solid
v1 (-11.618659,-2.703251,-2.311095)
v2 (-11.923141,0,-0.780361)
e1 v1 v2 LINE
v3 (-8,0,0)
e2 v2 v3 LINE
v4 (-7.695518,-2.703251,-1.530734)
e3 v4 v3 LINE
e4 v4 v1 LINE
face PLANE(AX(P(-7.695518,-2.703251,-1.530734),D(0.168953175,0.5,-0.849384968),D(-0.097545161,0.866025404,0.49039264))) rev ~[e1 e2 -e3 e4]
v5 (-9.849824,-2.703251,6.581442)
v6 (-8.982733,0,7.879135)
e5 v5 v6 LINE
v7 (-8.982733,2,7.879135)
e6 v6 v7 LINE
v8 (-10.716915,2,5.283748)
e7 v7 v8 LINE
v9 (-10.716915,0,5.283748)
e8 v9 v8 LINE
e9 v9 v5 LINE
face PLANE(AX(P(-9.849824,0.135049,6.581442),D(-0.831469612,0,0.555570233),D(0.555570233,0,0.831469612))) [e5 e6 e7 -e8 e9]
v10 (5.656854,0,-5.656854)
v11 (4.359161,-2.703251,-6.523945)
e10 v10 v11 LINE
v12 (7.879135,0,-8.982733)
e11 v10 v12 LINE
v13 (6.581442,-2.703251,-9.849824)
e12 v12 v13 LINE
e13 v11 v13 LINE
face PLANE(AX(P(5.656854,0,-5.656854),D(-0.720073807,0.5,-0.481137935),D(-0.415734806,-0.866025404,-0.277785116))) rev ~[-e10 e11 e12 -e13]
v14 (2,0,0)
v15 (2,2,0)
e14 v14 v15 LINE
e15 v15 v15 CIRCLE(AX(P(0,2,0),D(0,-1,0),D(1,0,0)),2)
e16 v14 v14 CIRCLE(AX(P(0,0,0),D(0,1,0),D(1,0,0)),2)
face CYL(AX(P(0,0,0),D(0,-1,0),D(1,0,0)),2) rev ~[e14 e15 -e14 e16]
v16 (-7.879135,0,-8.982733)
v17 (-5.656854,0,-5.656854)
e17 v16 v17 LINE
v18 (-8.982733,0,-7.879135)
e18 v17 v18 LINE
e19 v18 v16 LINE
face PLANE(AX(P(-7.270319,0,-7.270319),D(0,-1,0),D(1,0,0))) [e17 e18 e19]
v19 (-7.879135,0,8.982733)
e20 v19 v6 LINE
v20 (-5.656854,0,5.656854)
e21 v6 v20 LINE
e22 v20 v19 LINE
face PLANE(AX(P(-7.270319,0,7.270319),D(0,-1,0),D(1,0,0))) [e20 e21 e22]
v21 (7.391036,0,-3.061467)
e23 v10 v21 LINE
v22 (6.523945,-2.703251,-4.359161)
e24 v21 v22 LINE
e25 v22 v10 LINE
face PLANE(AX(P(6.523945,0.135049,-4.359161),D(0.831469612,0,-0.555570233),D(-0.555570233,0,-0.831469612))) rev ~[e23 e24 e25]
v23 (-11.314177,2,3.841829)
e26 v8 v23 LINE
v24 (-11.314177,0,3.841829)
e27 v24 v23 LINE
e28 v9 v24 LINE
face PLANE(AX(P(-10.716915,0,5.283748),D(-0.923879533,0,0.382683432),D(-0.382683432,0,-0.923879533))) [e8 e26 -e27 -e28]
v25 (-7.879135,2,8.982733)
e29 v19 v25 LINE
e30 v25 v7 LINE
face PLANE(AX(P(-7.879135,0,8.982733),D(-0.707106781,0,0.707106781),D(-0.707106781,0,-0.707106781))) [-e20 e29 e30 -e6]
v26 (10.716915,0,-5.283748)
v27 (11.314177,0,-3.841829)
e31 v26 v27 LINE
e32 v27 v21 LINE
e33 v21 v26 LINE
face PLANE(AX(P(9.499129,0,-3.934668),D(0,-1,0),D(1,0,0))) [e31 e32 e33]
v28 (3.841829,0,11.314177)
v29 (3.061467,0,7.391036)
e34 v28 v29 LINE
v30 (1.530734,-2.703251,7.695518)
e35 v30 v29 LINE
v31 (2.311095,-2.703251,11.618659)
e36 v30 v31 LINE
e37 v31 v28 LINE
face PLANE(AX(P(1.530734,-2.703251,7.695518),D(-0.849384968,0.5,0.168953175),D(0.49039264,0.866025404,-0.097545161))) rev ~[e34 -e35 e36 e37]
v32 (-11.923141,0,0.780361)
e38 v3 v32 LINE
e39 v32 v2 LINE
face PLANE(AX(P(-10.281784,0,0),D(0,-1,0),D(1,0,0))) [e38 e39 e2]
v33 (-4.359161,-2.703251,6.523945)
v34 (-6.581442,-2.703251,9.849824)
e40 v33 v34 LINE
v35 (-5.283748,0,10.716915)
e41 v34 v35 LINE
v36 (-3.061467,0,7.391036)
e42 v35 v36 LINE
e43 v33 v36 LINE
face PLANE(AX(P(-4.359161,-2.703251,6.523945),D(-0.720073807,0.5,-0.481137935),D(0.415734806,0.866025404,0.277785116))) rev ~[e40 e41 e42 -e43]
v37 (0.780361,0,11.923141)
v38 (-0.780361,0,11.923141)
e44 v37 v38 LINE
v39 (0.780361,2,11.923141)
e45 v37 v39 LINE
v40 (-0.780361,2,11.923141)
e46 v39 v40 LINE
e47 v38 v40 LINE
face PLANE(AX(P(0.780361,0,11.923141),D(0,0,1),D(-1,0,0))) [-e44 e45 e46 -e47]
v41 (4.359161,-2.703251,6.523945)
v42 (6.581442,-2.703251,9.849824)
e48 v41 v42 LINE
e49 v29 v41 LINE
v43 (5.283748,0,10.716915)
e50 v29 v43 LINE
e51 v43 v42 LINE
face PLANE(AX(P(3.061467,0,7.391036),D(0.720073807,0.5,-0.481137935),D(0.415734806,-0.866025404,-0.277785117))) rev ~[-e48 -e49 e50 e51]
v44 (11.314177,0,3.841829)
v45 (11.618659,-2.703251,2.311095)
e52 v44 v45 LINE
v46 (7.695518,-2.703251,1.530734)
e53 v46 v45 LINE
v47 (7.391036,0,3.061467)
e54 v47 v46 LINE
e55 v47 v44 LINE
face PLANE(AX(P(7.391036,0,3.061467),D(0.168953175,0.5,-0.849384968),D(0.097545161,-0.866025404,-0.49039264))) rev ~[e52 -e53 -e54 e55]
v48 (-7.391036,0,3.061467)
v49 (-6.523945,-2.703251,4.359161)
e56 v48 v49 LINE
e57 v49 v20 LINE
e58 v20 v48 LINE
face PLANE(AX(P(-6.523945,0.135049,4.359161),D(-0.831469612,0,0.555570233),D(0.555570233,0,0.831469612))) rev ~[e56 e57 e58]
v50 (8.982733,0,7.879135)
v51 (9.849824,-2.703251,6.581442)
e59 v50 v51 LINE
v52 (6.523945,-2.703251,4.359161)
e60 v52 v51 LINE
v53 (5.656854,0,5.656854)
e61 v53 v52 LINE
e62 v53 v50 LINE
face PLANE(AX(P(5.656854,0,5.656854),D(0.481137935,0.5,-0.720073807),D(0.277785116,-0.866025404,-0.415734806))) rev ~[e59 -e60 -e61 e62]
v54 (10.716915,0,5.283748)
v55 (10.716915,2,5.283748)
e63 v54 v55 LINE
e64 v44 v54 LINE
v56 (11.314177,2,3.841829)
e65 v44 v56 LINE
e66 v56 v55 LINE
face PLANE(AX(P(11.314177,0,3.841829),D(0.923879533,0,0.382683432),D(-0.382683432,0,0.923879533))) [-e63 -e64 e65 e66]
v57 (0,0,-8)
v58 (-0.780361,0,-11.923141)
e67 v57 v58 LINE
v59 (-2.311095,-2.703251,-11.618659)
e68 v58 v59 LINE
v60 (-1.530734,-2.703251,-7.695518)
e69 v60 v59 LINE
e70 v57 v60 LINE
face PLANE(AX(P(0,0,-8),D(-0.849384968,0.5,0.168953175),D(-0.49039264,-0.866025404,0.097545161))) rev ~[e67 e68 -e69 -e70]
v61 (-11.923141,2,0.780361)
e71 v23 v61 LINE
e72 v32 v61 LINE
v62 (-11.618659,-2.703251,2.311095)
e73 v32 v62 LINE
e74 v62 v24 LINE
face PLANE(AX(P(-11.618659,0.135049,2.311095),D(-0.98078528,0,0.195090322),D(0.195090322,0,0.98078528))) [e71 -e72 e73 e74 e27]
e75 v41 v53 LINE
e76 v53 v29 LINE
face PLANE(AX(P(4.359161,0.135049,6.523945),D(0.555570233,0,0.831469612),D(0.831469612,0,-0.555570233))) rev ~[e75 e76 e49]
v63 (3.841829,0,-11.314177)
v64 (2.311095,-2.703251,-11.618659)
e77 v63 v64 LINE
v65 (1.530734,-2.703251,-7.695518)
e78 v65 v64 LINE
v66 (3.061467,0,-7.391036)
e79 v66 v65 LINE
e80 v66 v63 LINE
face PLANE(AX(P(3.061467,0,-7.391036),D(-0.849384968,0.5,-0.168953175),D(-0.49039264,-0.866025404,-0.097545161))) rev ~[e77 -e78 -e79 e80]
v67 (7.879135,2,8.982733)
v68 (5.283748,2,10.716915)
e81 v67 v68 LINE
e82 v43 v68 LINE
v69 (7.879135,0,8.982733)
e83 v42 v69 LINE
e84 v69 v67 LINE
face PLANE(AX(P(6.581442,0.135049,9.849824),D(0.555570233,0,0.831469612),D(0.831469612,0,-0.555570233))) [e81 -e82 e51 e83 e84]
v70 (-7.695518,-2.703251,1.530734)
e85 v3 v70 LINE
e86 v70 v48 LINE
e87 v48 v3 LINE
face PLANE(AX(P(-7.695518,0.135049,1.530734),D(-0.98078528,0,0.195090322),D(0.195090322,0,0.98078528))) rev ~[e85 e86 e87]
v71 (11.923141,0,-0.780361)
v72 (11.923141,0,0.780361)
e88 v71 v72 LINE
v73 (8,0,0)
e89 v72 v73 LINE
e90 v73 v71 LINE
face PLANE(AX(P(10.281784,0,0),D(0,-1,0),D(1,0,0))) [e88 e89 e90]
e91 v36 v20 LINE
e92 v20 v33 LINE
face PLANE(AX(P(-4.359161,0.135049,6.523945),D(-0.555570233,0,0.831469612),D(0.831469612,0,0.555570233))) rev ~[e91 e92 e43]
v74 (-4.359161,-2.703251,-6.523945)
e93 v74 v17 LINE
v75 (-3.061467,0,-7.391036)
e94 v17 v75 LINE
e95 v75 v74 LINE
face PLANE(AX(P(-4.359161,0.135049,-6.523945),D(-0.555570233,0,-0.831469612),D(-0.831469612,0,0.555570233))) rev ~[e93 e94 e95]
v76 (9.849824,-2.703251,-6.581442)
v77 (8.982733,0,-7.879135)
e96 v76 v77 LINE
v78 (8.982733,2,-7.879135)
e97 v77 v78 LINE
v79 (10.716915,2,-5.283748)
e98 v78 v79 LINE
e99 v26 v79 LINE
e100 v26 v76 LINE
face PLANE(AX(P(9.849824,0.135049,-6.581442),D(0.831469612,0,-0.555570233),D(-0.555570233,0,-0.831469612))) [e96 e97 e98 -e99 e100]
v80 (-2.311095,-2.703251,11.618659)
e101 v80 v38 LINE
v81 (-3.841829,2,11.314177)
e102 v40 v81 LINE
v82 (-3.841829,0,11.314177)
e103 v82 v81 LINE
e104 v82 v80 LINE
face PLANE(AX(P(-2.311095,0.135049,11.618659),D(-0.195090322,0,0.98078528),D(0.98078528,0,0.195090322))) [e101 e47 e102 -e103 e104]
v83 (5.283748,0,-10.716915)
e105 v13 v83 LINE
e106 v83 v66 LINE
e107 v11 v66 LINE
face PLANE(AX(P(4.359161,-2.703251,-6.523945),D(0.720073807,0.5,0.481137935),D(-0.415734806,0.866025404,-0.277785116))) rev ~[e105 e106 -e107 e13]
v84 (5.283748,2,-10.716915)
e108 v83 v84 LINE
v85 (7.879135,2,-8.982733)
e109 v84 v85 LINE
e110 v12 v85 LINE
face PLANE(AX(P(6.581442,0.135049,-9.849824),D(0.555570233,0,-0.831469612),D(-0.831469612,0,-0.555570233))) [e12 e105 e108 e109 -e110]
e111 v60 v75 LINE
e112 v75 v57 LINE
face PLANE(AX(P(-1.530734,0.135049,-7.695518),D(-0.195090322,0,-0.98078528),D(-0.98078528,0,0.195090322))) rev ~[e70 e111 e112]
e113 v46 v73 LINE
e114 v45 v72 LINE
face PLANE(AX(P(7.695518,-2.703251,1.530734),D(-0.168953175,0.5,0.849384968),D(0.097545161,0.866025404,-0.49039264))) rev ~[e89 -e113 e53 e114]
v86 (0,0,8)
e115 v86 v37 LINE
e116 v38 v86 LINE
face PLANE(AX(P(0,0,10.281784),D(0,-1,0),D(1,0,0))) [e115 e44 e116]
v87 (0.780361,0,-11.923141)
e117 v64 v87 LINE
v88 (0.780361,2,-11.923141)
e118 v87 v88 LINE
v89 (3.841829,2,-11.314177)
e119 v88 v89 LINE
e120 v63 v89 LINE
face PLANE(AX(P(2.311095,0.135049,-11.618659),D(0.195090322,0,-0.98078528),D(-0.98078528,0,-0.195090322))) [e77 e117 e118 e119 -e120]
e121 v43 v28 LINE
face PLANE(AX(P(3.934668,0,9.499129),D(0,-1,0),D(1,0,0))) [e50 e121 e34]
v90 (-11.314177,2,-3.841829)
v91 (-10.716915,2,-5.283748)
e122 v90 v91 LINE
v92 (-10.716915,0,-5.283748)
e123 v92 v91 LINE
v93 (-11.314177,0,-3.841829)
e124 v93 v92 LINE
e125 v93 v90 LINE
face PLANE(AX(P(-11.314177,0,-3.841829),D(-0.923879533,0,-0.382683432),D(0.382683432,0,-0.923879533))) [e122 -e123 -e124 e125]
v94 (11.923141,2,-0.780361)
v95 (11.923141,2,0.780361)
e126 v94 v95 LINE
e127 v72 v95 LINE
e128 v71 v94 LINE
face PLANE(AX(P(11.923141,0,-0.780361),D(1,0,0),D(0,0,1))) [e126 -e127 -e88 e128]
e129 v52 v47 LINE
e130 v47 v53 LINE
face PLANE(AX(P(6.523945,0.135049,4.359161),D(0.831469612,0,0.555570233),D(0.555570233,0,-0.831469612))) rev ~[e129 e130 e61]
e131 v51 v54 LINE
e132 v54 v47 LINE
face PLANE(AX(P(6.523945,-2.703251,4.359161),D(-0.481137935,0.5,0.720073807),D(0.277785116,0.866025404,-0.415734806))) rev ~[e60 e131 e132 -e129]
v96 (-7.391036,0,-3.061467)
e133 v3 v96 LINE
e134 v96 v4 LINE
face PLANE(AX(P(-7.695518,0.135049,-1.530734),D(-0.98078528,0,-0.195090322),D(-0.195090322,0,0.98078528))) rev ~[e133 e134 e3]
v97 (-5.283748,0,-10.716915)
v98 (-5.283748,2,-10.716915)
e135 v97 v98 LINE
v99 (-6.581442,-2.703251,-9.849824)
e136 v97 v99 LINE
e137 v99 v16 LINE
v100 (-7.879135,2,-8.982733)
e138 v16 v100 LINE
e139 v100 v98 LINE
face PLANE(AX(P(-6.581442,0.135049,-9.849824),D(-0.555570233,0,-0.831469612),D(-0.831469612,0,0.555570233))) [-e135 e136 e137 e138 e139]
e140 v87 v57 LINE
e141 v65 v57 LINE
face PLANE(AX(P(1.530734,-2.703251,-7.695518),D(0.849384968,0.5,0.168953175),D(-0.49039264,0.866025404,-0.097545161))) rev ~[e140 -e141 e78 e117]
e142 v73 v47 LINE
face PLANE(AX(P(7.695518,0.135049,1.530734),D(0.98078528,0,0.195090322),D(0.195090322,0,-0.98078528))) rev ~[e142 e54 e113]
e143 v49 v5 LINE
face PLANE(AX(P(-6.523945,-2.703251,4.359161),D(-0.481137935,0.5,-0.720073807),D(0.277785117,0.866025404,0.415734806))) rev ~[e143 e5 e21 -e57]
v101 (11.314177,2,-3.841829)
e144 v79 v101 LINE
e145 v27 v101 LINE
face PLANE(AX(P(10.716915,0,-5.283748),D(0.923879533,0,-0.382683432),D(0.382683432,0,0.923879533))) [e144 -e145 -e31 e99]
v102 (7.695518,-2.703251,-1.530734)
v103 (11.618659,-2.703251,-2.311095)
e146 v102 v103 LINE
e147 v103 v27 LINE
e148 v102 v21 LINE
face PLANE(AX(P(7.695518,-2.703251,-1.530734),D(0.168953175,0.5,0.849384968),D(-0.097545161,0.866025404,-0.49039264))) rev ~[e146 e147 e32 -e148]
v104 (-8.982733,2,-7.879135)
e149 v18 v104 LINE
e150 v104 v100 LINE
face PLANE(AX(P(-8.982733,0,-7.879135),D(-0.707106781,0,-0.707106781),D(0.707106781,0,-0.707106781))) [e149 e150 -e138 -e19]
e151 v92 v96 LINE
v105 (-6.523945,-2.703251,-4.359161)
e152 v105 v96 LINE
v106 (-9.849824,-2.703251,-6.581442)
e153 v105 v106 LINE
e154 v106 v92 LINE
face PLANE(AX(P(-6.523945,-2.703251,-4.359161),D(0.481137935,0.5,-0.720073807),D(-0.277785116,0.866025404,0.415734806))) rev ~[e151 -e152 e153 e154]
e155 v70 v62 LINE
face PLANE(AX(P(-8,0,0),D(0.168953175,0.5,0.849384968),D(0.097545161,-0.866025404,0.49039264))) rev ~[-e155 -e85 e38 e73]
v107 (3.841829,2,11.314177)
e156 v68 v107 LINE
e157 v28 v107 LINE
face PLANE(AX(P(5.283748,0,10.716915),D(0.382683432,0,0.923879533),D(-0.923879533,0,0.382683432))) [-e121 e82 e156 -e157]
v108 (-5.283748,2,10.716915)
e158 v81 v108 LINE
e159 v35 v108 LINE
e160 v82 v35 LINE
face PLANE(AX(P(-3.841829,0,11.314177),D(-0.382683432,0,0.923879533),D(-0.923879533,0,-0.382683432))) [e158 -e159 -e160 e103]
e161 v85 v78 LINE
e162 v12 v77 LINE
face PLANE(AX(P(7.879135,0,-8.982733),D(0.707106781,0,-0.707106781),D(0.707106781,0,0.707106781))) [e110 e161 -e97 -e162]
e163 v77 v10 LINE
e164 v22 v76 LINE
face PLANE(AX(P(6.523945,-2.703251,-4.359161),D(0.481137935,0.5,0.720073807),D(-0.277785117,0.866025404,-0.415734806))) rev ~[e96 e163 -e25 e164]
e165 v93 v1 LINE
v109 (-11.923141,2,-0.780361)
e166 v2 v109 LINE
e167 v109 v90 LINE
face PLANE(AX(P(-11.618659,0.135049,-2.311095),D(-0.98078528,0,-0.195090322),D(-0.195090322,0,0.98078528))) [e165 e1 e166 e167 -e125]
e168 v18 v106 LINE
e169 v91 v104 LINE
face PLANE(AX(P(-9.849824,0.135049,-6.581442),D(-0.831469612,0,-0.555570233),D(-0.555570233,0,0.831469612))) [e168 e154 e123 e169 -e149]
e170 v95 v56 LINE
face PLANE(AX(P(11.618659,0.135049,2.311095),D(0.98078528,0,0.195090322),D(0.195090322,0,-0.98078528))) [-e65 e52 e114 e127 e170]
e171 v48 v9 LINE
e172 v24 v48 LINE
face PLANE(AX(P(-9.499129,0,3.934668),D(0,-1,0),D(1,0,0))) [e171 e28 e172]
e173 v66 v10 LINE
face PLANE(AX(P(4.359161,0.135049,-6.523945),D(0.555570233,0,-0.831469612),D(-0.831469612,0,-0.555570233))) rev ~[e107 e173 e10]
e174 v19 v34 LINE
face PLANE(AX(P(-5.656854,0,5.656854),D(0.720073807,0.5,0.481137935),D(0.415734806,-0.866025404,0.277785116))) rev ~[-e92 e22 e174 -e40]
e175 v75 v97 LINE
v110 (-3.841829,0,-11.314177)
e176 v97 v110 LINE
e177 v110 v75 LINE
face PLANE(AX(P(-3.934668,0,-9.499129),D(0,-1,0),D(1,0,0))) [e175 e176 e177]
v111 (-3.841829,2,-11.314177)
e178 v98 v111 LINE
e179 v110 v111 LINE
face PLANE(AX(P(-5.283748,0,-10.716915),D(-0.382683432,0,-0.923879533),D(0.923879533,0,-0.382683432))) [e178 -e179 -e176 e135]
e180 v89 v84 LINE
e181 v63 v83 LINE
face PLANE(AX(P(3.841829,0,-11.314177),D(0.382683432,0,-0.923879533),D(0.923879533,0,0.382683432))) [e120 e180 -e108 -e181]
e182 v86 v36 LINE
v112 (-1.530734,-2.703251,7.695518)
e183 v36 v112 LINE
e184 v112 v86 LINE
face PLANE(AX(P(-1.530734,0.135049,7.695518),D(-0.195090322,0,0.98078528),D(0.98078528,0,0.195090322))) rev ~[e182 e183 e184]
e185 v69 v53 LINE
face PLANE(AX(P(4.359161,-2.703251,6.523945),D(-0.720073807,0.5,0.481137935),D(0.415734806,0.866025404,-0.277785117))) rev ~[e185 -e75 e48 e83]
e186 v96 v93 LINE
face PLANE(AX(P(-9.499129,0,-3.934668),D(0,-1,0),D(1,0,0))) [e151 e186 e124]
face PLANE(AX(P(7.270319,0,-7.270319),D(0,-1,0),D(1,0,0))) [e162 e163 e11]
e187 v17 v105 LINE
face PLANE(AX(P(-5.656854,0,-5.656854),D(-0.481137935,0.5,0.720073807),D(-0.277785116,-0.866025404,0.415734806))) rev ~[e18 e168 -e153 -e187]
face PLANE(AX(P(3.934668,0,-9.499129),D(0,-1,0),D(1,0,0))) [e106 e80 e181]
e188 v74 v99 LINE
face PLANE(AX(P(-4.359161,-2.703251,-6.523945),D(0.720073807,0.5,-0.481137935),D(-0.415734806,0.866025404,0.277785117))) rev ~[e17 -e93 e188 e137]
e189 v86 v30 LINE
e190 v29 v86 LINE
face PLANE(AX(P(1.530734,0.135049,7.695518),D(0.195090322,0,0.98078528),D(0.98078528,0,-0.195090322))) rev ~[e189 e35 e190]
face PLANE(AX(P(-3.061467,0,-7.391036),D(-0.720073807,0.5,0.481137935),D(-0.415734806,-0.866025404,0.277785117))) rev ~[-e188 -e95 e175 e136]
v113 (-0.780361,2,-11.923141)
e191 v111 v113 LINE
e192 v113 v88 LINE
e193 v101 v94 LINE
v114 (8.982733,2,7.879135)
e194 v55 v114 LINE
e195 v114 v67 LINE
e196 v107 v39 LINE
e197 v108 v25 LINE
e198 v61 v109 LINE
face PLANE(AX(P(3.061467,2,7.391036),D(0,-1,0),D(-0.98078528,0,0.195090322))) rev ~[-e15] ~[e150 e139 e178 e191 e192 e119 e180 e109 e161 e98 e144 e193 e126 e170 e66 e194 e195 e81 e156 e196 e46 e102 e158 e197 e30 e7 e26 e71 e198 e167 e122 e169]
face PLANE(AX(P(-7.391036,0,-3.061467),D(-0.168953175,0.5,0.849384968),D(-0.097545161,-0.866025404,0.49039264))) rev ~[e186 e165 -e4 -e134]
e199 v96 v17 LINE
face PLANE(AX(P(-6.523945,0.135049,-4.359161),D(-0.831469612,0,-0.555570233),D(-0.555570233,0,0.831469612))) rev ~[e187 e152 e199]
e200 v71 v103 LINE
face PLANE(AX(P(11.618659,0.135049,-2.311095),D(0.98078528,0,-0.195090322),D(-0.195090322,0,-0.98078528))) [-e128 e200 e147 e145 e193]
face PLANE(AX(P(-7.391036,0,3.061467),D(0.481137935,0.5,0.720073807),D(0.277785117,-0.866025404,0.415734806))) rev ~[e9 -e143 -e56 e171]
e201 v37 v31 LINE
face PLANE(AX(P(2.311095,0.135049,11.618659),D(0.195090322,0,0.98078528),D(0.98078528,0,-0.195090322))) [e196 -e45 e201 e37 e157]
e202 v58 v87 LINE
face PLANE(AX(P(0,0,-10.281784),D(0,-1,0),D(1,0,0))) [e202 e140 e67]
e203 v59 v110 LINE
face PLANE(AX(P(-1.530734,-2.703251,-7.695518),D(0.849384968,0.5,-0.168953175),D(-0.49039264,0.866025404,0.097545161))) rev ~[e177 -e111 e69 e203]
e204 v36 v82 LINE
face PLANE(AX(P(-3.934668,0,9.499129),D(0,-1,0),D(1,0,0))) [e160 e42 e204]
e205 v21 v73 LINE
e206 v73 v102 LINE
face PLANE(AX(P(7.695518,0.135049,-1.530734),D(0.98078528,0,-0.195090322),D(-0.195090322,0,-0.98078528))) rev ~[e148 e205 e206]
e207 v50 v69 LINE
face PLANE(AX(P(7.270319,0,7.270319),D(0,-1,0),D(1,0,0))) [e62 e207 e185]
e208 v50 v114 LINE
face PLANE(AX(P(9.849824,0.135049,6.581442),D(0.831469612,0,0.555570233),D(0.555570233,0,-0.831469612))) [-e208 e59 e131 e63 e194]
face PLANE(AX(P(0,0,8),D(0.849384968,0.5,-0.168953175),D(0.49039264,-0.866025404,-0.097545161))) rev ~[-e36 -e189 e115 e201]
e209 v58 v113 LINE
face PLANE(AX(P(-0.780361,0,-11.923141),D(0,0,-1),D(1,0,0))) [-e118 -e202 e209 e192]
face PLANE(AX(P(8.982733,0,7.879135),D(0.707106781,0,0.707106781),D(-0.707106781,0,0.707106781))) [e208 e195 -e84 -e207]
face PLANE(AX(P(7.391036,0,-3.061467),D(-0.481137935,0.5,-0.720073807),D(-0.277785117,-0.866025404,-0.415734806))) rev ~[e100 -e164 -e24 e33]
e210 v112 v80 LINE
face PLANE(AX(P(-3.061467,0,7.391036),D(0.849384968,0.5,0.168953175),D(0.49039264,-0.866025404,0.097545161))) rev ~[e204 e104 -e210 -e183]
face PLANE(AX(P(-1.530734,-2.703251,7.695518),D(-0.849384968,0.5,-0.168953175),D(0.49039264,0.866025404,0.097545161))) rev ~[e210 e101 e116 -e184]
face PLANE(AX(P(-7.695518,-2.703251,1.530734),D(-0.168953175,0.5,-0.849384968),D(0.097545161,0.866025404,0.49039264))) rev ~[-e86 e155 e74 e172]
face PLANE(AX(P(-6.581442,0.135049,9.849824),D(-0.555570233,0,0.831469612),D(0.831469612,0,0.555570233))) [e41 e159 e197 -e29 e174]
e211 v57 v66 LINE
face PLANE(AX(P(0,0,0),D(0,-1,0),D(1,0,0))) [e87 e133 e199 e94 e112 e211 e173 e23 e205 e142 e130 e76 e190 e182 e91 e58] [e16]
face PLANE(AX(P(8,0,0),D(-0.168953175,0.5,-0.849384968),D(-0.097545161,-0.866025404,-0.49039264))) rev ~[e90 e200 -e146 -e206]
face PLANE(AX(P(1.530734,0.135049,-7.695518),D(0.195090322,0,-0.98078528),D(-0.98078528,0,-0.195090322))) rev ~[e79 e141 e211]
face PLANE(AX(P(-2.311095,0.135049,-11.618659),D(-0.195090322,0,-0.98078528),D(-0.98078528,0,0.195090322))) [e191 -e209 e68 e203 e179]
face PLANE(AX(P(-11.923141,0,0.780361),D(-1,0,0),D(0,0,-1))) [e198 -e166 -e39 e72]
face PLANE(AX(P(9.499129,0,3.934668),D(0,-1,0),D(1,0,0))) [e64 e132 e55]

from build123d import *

# Parameters (mm, degrees)
F1_DEPTH = 2
F0_R     = 2
F3_DEPTH = 4
F4_COUNT = 16


with BuildPart() as f1:
    # F0 (on Front) → F1 (new body)
    with BuildSketch(Plane.XZ):
        Polygon((-0.7803612881, 11.9231411216), (0, 8), (0.7803612881, 11.9231411216), align=None)
    extrude(amount=-F1_DEPTH)



with BuildPart() as f1b:
    # F0 (on Front) → F1, piece 2 (new body)
    with BuildSketch(Plane.XZ):
        Polygon((3.841828747, 11.3141773817), (3.0614674589, 7.3910362601), (5.283748391, 10.7169147093), align=None)
    extrude(amount=-F1_DEPTH)


with BuildPart() as f1c:
    # F0 (on Front) → F1, piece 3 (new body)
    with BuildSketch(Plane.XZ):
        Polygon((7.8791351816, 8.9827326987), (5.6568542495, 5.6568542495), (8.9827326987, 7.8791351816), align=None)
    extrude(amount=-F1_DEPTH)


with BuildPart() as f1d:
    # F0 (on Front) → F1, piece 4 (new body)
    with BuildSketch(Plane.XZ):
        Polygon((10.7169147093, 5.283748391), (7.3910362601, 3.0614674589), (11.3141773817, 3.841828747), align=None)
    extrude(amount=-F1_DEPTH)


with BuildPart() as f1e:
    # F0 (on Front) → F1, piece 5 (new body)
    with BuildSketch(Plane.XZ):
        Polygon((11.9231411216, 0.7803612881), (8, 0), (11.9231411216, -0.7803612881), align=None)
    extrude(amount=-F1_DEPTH)


with BuildPart() as f1f:
    # F0 (on Front) → F1, piece 6 (new body)
    with BuildSketch(Plane.XZ):
        Polygon((11.3141773817, -3.841828747), (7.3910362601, -3.0614674589), (10.7169147093, -5.283748391), align=None)
    extrude(amount=-F1_DEPTH)


with BuildPart() as f1g:
    # F0 (on Front) → F1, piece 7 (new body)
    with BuildSketch(Plane.XZ):
        Polygon((8.9827326987, -7.8791351816), (5.6568542495, -5.6568542495), (7.8791351816, -8.9827326987), align=None)
    extrude(amount=-F1_DEPTH)


with BuildPart() as f1h:
    # F0 (on Front) → F1, piece 8 (new body)
    with BuildSketch(Plane.XZ):
        Polygon((5.283748391, -10.7169147093), (3.0614674589, -7.3910362601), (3.841828747, -11.3141773817), align=None)
    extrude(amount=-F1_DEPTH)


with BuildPart() as f1i:
    # F0 (on Front) → F1, piece 9 (new body)
    with BuildSketch(Plane.XZ):
        Polygon((0.7803612881, -11.9231411216), (0, -8), (-0.7803612881, -11.9231411216), align=None)
    extrude(amount=-F1_DEPTH)


with BuildPart() as f1j:
    # F0 (on Front) → F1, piece 10 (new body)
    with BuildSketch(Plane.XZ):
        Polygon((-3.841828747, -11.3141773817), (-3.0614674589, -7.3910362601), (-5.283748391, -10.7169147093), align=None)
    extrude(amount=-F1_DEPTH)


with BuildPart() as f1k:
    # F0 (on Front) → F1, piece 11 (new body)
    with BuildSketch(Plane.XZ):
        Polygon((-7.8791351816, -8.9827326987), (-5.6568542495, -5.6568542495), (-8.9827326987, -7.8791351816), align=None)
    extrude(amount=-F1_DEPTH)


with BuildPart() as f1l:
    # F0 (on Front) → F1, piece 12 (new body)
    with BuildSketch(Plane.XZ):
        Polygon((-10.7169147093, -5.283748391), (-7.3910362601, -3.0614674589), (-11.3141773817, -3.841828747), align=None)
    extrude(amount=-F1_DEPTH)


with BuildPart() as f1m:
    # F0 (on Front) → F1, piece 13 (new body)
    with BuildSketch(Plane.XZ):
        Polygon((-11.9231411216, -0.7803612881), (-8, 0), (-11.9231411216, 0.7803612881), align=None)
    extrude(amount=-F1_DEPTH)


with BuildPart() as f1n:
    # F0 (on Front) → F1, piece 14 (new body)
    with BuildSketch(Plane.XZ):
        Polygon((-11.3141773817, 3.841828747), (-7.3910362601, 3.0614674589), (-10.7169147093, 5.283748391), align=None)
    extrude(amount=-F1_DEPTH)


with BuildPart() as f1o:
    # F0 (on Front) → F1, piece 15 (new body)
    with BuildSketch(Plane.XZ):
        Polygon((-8.9827326987, 7.8791351816), (-5.6568542495, 5.6568542495), (-7.8791351816, 8.9827326987), align=None)
    extrude(amount=-F1_DEPTH)


with BuildPart() as f1p:
    # F0 (on Front) → F1, piece 16 (new body)
    with BuildSketch(Plane.XZ):
        Polygon((0, 8), (-3.0614674589, 7.3910362601), (-5.6568542495, 5.6568542495), (-7.3910362601, 3.0614674589), (-8, 0), (-7.3910362601, -3.0614674589), (-5.6568542495, -5.6568542495), (-3.0614674589, -7.3910362601), (0, -8), (3.0614674589, -7.3910362601), (5.6568542495, -5.6568542495), (7.3910362601, -3.0614674589), (8, 0), (7.3910362601, 3.0614674589), (5.6568542495, 5.6568542495), (3.0614674589, 7.3910362601), align=None)
        Circle(F0_R, mode=Mode.SUBTRACT)
    extrude(amount=-F1_DEPTH)


with BuildPart() as f1q:
    # F0 (on Front) → F1, piece 17 (new body)
    with BuildSketch(Plane.XZ):
        Polygon((-5.283748391, 10.7169147093), (-3.0614674589, 7.3910362601), (-3.841828747, 11.3141773817), align=None)
    extrude(amount=-F1_DEPTH)


with BuildPart() as f1_1:
    add(f1.part)

    add(f1p.part)  # F3 merges F1p

    add(f1q.part)  # F3 merges F1q
    # F2 (on face) → F3 (join)
    with BuildSketch(Plane(origin=(-1.5307337295, 0, 7.69551813), x_dir=(0.9807852804, 0, 0.195090322), z_dir=(-0.195090322, 0, 0.9807852804))):
        Polygon((-1.5607225761, 2), (-1.5607225761, 0), (0, -2.7032507984), (1.5607225761, 0), (1.5607225761, 2), align=None)
    extrude(amount=F3_DEPTH)



with BuildPart() as f1_2:
    add(f1_1.part)

    add(f1b.part)  # F4 merges F1b

    add(f1c.part)  # F4 merges F1c

    add(f1d.part)  # F4 merges F1d

    add(f1e.part)  # F4 merges F1e

    add(f1f.part)  # F4 merges F1f

    add(f1g.part)  # F4 merges F1g

    add(f1h.part)  # F4 merges F1h

    add(f1i.part)  # F4 merges F1i

    add(f1j.part)  # F4 merges F1j

    add(f1k.part)  # F4 merges F1k

    add(f1l.part)  # F4 merges F1l

    add(f1m.part)  # F4 merges F1m

    add(f1n.part)  # F4 merges F1n

    add(f1o.part)  # F4 merges F1o
    # F4: F1 ×16 about axis
    f4_axis = Axis((0, 0, 0), (0, -1, 0))
    for i in range(1, F4_COUNT):
        add(f1_1.part.rotate(f4_axis, i * 360 / F4_COUNT))


solid = f1_2.part
